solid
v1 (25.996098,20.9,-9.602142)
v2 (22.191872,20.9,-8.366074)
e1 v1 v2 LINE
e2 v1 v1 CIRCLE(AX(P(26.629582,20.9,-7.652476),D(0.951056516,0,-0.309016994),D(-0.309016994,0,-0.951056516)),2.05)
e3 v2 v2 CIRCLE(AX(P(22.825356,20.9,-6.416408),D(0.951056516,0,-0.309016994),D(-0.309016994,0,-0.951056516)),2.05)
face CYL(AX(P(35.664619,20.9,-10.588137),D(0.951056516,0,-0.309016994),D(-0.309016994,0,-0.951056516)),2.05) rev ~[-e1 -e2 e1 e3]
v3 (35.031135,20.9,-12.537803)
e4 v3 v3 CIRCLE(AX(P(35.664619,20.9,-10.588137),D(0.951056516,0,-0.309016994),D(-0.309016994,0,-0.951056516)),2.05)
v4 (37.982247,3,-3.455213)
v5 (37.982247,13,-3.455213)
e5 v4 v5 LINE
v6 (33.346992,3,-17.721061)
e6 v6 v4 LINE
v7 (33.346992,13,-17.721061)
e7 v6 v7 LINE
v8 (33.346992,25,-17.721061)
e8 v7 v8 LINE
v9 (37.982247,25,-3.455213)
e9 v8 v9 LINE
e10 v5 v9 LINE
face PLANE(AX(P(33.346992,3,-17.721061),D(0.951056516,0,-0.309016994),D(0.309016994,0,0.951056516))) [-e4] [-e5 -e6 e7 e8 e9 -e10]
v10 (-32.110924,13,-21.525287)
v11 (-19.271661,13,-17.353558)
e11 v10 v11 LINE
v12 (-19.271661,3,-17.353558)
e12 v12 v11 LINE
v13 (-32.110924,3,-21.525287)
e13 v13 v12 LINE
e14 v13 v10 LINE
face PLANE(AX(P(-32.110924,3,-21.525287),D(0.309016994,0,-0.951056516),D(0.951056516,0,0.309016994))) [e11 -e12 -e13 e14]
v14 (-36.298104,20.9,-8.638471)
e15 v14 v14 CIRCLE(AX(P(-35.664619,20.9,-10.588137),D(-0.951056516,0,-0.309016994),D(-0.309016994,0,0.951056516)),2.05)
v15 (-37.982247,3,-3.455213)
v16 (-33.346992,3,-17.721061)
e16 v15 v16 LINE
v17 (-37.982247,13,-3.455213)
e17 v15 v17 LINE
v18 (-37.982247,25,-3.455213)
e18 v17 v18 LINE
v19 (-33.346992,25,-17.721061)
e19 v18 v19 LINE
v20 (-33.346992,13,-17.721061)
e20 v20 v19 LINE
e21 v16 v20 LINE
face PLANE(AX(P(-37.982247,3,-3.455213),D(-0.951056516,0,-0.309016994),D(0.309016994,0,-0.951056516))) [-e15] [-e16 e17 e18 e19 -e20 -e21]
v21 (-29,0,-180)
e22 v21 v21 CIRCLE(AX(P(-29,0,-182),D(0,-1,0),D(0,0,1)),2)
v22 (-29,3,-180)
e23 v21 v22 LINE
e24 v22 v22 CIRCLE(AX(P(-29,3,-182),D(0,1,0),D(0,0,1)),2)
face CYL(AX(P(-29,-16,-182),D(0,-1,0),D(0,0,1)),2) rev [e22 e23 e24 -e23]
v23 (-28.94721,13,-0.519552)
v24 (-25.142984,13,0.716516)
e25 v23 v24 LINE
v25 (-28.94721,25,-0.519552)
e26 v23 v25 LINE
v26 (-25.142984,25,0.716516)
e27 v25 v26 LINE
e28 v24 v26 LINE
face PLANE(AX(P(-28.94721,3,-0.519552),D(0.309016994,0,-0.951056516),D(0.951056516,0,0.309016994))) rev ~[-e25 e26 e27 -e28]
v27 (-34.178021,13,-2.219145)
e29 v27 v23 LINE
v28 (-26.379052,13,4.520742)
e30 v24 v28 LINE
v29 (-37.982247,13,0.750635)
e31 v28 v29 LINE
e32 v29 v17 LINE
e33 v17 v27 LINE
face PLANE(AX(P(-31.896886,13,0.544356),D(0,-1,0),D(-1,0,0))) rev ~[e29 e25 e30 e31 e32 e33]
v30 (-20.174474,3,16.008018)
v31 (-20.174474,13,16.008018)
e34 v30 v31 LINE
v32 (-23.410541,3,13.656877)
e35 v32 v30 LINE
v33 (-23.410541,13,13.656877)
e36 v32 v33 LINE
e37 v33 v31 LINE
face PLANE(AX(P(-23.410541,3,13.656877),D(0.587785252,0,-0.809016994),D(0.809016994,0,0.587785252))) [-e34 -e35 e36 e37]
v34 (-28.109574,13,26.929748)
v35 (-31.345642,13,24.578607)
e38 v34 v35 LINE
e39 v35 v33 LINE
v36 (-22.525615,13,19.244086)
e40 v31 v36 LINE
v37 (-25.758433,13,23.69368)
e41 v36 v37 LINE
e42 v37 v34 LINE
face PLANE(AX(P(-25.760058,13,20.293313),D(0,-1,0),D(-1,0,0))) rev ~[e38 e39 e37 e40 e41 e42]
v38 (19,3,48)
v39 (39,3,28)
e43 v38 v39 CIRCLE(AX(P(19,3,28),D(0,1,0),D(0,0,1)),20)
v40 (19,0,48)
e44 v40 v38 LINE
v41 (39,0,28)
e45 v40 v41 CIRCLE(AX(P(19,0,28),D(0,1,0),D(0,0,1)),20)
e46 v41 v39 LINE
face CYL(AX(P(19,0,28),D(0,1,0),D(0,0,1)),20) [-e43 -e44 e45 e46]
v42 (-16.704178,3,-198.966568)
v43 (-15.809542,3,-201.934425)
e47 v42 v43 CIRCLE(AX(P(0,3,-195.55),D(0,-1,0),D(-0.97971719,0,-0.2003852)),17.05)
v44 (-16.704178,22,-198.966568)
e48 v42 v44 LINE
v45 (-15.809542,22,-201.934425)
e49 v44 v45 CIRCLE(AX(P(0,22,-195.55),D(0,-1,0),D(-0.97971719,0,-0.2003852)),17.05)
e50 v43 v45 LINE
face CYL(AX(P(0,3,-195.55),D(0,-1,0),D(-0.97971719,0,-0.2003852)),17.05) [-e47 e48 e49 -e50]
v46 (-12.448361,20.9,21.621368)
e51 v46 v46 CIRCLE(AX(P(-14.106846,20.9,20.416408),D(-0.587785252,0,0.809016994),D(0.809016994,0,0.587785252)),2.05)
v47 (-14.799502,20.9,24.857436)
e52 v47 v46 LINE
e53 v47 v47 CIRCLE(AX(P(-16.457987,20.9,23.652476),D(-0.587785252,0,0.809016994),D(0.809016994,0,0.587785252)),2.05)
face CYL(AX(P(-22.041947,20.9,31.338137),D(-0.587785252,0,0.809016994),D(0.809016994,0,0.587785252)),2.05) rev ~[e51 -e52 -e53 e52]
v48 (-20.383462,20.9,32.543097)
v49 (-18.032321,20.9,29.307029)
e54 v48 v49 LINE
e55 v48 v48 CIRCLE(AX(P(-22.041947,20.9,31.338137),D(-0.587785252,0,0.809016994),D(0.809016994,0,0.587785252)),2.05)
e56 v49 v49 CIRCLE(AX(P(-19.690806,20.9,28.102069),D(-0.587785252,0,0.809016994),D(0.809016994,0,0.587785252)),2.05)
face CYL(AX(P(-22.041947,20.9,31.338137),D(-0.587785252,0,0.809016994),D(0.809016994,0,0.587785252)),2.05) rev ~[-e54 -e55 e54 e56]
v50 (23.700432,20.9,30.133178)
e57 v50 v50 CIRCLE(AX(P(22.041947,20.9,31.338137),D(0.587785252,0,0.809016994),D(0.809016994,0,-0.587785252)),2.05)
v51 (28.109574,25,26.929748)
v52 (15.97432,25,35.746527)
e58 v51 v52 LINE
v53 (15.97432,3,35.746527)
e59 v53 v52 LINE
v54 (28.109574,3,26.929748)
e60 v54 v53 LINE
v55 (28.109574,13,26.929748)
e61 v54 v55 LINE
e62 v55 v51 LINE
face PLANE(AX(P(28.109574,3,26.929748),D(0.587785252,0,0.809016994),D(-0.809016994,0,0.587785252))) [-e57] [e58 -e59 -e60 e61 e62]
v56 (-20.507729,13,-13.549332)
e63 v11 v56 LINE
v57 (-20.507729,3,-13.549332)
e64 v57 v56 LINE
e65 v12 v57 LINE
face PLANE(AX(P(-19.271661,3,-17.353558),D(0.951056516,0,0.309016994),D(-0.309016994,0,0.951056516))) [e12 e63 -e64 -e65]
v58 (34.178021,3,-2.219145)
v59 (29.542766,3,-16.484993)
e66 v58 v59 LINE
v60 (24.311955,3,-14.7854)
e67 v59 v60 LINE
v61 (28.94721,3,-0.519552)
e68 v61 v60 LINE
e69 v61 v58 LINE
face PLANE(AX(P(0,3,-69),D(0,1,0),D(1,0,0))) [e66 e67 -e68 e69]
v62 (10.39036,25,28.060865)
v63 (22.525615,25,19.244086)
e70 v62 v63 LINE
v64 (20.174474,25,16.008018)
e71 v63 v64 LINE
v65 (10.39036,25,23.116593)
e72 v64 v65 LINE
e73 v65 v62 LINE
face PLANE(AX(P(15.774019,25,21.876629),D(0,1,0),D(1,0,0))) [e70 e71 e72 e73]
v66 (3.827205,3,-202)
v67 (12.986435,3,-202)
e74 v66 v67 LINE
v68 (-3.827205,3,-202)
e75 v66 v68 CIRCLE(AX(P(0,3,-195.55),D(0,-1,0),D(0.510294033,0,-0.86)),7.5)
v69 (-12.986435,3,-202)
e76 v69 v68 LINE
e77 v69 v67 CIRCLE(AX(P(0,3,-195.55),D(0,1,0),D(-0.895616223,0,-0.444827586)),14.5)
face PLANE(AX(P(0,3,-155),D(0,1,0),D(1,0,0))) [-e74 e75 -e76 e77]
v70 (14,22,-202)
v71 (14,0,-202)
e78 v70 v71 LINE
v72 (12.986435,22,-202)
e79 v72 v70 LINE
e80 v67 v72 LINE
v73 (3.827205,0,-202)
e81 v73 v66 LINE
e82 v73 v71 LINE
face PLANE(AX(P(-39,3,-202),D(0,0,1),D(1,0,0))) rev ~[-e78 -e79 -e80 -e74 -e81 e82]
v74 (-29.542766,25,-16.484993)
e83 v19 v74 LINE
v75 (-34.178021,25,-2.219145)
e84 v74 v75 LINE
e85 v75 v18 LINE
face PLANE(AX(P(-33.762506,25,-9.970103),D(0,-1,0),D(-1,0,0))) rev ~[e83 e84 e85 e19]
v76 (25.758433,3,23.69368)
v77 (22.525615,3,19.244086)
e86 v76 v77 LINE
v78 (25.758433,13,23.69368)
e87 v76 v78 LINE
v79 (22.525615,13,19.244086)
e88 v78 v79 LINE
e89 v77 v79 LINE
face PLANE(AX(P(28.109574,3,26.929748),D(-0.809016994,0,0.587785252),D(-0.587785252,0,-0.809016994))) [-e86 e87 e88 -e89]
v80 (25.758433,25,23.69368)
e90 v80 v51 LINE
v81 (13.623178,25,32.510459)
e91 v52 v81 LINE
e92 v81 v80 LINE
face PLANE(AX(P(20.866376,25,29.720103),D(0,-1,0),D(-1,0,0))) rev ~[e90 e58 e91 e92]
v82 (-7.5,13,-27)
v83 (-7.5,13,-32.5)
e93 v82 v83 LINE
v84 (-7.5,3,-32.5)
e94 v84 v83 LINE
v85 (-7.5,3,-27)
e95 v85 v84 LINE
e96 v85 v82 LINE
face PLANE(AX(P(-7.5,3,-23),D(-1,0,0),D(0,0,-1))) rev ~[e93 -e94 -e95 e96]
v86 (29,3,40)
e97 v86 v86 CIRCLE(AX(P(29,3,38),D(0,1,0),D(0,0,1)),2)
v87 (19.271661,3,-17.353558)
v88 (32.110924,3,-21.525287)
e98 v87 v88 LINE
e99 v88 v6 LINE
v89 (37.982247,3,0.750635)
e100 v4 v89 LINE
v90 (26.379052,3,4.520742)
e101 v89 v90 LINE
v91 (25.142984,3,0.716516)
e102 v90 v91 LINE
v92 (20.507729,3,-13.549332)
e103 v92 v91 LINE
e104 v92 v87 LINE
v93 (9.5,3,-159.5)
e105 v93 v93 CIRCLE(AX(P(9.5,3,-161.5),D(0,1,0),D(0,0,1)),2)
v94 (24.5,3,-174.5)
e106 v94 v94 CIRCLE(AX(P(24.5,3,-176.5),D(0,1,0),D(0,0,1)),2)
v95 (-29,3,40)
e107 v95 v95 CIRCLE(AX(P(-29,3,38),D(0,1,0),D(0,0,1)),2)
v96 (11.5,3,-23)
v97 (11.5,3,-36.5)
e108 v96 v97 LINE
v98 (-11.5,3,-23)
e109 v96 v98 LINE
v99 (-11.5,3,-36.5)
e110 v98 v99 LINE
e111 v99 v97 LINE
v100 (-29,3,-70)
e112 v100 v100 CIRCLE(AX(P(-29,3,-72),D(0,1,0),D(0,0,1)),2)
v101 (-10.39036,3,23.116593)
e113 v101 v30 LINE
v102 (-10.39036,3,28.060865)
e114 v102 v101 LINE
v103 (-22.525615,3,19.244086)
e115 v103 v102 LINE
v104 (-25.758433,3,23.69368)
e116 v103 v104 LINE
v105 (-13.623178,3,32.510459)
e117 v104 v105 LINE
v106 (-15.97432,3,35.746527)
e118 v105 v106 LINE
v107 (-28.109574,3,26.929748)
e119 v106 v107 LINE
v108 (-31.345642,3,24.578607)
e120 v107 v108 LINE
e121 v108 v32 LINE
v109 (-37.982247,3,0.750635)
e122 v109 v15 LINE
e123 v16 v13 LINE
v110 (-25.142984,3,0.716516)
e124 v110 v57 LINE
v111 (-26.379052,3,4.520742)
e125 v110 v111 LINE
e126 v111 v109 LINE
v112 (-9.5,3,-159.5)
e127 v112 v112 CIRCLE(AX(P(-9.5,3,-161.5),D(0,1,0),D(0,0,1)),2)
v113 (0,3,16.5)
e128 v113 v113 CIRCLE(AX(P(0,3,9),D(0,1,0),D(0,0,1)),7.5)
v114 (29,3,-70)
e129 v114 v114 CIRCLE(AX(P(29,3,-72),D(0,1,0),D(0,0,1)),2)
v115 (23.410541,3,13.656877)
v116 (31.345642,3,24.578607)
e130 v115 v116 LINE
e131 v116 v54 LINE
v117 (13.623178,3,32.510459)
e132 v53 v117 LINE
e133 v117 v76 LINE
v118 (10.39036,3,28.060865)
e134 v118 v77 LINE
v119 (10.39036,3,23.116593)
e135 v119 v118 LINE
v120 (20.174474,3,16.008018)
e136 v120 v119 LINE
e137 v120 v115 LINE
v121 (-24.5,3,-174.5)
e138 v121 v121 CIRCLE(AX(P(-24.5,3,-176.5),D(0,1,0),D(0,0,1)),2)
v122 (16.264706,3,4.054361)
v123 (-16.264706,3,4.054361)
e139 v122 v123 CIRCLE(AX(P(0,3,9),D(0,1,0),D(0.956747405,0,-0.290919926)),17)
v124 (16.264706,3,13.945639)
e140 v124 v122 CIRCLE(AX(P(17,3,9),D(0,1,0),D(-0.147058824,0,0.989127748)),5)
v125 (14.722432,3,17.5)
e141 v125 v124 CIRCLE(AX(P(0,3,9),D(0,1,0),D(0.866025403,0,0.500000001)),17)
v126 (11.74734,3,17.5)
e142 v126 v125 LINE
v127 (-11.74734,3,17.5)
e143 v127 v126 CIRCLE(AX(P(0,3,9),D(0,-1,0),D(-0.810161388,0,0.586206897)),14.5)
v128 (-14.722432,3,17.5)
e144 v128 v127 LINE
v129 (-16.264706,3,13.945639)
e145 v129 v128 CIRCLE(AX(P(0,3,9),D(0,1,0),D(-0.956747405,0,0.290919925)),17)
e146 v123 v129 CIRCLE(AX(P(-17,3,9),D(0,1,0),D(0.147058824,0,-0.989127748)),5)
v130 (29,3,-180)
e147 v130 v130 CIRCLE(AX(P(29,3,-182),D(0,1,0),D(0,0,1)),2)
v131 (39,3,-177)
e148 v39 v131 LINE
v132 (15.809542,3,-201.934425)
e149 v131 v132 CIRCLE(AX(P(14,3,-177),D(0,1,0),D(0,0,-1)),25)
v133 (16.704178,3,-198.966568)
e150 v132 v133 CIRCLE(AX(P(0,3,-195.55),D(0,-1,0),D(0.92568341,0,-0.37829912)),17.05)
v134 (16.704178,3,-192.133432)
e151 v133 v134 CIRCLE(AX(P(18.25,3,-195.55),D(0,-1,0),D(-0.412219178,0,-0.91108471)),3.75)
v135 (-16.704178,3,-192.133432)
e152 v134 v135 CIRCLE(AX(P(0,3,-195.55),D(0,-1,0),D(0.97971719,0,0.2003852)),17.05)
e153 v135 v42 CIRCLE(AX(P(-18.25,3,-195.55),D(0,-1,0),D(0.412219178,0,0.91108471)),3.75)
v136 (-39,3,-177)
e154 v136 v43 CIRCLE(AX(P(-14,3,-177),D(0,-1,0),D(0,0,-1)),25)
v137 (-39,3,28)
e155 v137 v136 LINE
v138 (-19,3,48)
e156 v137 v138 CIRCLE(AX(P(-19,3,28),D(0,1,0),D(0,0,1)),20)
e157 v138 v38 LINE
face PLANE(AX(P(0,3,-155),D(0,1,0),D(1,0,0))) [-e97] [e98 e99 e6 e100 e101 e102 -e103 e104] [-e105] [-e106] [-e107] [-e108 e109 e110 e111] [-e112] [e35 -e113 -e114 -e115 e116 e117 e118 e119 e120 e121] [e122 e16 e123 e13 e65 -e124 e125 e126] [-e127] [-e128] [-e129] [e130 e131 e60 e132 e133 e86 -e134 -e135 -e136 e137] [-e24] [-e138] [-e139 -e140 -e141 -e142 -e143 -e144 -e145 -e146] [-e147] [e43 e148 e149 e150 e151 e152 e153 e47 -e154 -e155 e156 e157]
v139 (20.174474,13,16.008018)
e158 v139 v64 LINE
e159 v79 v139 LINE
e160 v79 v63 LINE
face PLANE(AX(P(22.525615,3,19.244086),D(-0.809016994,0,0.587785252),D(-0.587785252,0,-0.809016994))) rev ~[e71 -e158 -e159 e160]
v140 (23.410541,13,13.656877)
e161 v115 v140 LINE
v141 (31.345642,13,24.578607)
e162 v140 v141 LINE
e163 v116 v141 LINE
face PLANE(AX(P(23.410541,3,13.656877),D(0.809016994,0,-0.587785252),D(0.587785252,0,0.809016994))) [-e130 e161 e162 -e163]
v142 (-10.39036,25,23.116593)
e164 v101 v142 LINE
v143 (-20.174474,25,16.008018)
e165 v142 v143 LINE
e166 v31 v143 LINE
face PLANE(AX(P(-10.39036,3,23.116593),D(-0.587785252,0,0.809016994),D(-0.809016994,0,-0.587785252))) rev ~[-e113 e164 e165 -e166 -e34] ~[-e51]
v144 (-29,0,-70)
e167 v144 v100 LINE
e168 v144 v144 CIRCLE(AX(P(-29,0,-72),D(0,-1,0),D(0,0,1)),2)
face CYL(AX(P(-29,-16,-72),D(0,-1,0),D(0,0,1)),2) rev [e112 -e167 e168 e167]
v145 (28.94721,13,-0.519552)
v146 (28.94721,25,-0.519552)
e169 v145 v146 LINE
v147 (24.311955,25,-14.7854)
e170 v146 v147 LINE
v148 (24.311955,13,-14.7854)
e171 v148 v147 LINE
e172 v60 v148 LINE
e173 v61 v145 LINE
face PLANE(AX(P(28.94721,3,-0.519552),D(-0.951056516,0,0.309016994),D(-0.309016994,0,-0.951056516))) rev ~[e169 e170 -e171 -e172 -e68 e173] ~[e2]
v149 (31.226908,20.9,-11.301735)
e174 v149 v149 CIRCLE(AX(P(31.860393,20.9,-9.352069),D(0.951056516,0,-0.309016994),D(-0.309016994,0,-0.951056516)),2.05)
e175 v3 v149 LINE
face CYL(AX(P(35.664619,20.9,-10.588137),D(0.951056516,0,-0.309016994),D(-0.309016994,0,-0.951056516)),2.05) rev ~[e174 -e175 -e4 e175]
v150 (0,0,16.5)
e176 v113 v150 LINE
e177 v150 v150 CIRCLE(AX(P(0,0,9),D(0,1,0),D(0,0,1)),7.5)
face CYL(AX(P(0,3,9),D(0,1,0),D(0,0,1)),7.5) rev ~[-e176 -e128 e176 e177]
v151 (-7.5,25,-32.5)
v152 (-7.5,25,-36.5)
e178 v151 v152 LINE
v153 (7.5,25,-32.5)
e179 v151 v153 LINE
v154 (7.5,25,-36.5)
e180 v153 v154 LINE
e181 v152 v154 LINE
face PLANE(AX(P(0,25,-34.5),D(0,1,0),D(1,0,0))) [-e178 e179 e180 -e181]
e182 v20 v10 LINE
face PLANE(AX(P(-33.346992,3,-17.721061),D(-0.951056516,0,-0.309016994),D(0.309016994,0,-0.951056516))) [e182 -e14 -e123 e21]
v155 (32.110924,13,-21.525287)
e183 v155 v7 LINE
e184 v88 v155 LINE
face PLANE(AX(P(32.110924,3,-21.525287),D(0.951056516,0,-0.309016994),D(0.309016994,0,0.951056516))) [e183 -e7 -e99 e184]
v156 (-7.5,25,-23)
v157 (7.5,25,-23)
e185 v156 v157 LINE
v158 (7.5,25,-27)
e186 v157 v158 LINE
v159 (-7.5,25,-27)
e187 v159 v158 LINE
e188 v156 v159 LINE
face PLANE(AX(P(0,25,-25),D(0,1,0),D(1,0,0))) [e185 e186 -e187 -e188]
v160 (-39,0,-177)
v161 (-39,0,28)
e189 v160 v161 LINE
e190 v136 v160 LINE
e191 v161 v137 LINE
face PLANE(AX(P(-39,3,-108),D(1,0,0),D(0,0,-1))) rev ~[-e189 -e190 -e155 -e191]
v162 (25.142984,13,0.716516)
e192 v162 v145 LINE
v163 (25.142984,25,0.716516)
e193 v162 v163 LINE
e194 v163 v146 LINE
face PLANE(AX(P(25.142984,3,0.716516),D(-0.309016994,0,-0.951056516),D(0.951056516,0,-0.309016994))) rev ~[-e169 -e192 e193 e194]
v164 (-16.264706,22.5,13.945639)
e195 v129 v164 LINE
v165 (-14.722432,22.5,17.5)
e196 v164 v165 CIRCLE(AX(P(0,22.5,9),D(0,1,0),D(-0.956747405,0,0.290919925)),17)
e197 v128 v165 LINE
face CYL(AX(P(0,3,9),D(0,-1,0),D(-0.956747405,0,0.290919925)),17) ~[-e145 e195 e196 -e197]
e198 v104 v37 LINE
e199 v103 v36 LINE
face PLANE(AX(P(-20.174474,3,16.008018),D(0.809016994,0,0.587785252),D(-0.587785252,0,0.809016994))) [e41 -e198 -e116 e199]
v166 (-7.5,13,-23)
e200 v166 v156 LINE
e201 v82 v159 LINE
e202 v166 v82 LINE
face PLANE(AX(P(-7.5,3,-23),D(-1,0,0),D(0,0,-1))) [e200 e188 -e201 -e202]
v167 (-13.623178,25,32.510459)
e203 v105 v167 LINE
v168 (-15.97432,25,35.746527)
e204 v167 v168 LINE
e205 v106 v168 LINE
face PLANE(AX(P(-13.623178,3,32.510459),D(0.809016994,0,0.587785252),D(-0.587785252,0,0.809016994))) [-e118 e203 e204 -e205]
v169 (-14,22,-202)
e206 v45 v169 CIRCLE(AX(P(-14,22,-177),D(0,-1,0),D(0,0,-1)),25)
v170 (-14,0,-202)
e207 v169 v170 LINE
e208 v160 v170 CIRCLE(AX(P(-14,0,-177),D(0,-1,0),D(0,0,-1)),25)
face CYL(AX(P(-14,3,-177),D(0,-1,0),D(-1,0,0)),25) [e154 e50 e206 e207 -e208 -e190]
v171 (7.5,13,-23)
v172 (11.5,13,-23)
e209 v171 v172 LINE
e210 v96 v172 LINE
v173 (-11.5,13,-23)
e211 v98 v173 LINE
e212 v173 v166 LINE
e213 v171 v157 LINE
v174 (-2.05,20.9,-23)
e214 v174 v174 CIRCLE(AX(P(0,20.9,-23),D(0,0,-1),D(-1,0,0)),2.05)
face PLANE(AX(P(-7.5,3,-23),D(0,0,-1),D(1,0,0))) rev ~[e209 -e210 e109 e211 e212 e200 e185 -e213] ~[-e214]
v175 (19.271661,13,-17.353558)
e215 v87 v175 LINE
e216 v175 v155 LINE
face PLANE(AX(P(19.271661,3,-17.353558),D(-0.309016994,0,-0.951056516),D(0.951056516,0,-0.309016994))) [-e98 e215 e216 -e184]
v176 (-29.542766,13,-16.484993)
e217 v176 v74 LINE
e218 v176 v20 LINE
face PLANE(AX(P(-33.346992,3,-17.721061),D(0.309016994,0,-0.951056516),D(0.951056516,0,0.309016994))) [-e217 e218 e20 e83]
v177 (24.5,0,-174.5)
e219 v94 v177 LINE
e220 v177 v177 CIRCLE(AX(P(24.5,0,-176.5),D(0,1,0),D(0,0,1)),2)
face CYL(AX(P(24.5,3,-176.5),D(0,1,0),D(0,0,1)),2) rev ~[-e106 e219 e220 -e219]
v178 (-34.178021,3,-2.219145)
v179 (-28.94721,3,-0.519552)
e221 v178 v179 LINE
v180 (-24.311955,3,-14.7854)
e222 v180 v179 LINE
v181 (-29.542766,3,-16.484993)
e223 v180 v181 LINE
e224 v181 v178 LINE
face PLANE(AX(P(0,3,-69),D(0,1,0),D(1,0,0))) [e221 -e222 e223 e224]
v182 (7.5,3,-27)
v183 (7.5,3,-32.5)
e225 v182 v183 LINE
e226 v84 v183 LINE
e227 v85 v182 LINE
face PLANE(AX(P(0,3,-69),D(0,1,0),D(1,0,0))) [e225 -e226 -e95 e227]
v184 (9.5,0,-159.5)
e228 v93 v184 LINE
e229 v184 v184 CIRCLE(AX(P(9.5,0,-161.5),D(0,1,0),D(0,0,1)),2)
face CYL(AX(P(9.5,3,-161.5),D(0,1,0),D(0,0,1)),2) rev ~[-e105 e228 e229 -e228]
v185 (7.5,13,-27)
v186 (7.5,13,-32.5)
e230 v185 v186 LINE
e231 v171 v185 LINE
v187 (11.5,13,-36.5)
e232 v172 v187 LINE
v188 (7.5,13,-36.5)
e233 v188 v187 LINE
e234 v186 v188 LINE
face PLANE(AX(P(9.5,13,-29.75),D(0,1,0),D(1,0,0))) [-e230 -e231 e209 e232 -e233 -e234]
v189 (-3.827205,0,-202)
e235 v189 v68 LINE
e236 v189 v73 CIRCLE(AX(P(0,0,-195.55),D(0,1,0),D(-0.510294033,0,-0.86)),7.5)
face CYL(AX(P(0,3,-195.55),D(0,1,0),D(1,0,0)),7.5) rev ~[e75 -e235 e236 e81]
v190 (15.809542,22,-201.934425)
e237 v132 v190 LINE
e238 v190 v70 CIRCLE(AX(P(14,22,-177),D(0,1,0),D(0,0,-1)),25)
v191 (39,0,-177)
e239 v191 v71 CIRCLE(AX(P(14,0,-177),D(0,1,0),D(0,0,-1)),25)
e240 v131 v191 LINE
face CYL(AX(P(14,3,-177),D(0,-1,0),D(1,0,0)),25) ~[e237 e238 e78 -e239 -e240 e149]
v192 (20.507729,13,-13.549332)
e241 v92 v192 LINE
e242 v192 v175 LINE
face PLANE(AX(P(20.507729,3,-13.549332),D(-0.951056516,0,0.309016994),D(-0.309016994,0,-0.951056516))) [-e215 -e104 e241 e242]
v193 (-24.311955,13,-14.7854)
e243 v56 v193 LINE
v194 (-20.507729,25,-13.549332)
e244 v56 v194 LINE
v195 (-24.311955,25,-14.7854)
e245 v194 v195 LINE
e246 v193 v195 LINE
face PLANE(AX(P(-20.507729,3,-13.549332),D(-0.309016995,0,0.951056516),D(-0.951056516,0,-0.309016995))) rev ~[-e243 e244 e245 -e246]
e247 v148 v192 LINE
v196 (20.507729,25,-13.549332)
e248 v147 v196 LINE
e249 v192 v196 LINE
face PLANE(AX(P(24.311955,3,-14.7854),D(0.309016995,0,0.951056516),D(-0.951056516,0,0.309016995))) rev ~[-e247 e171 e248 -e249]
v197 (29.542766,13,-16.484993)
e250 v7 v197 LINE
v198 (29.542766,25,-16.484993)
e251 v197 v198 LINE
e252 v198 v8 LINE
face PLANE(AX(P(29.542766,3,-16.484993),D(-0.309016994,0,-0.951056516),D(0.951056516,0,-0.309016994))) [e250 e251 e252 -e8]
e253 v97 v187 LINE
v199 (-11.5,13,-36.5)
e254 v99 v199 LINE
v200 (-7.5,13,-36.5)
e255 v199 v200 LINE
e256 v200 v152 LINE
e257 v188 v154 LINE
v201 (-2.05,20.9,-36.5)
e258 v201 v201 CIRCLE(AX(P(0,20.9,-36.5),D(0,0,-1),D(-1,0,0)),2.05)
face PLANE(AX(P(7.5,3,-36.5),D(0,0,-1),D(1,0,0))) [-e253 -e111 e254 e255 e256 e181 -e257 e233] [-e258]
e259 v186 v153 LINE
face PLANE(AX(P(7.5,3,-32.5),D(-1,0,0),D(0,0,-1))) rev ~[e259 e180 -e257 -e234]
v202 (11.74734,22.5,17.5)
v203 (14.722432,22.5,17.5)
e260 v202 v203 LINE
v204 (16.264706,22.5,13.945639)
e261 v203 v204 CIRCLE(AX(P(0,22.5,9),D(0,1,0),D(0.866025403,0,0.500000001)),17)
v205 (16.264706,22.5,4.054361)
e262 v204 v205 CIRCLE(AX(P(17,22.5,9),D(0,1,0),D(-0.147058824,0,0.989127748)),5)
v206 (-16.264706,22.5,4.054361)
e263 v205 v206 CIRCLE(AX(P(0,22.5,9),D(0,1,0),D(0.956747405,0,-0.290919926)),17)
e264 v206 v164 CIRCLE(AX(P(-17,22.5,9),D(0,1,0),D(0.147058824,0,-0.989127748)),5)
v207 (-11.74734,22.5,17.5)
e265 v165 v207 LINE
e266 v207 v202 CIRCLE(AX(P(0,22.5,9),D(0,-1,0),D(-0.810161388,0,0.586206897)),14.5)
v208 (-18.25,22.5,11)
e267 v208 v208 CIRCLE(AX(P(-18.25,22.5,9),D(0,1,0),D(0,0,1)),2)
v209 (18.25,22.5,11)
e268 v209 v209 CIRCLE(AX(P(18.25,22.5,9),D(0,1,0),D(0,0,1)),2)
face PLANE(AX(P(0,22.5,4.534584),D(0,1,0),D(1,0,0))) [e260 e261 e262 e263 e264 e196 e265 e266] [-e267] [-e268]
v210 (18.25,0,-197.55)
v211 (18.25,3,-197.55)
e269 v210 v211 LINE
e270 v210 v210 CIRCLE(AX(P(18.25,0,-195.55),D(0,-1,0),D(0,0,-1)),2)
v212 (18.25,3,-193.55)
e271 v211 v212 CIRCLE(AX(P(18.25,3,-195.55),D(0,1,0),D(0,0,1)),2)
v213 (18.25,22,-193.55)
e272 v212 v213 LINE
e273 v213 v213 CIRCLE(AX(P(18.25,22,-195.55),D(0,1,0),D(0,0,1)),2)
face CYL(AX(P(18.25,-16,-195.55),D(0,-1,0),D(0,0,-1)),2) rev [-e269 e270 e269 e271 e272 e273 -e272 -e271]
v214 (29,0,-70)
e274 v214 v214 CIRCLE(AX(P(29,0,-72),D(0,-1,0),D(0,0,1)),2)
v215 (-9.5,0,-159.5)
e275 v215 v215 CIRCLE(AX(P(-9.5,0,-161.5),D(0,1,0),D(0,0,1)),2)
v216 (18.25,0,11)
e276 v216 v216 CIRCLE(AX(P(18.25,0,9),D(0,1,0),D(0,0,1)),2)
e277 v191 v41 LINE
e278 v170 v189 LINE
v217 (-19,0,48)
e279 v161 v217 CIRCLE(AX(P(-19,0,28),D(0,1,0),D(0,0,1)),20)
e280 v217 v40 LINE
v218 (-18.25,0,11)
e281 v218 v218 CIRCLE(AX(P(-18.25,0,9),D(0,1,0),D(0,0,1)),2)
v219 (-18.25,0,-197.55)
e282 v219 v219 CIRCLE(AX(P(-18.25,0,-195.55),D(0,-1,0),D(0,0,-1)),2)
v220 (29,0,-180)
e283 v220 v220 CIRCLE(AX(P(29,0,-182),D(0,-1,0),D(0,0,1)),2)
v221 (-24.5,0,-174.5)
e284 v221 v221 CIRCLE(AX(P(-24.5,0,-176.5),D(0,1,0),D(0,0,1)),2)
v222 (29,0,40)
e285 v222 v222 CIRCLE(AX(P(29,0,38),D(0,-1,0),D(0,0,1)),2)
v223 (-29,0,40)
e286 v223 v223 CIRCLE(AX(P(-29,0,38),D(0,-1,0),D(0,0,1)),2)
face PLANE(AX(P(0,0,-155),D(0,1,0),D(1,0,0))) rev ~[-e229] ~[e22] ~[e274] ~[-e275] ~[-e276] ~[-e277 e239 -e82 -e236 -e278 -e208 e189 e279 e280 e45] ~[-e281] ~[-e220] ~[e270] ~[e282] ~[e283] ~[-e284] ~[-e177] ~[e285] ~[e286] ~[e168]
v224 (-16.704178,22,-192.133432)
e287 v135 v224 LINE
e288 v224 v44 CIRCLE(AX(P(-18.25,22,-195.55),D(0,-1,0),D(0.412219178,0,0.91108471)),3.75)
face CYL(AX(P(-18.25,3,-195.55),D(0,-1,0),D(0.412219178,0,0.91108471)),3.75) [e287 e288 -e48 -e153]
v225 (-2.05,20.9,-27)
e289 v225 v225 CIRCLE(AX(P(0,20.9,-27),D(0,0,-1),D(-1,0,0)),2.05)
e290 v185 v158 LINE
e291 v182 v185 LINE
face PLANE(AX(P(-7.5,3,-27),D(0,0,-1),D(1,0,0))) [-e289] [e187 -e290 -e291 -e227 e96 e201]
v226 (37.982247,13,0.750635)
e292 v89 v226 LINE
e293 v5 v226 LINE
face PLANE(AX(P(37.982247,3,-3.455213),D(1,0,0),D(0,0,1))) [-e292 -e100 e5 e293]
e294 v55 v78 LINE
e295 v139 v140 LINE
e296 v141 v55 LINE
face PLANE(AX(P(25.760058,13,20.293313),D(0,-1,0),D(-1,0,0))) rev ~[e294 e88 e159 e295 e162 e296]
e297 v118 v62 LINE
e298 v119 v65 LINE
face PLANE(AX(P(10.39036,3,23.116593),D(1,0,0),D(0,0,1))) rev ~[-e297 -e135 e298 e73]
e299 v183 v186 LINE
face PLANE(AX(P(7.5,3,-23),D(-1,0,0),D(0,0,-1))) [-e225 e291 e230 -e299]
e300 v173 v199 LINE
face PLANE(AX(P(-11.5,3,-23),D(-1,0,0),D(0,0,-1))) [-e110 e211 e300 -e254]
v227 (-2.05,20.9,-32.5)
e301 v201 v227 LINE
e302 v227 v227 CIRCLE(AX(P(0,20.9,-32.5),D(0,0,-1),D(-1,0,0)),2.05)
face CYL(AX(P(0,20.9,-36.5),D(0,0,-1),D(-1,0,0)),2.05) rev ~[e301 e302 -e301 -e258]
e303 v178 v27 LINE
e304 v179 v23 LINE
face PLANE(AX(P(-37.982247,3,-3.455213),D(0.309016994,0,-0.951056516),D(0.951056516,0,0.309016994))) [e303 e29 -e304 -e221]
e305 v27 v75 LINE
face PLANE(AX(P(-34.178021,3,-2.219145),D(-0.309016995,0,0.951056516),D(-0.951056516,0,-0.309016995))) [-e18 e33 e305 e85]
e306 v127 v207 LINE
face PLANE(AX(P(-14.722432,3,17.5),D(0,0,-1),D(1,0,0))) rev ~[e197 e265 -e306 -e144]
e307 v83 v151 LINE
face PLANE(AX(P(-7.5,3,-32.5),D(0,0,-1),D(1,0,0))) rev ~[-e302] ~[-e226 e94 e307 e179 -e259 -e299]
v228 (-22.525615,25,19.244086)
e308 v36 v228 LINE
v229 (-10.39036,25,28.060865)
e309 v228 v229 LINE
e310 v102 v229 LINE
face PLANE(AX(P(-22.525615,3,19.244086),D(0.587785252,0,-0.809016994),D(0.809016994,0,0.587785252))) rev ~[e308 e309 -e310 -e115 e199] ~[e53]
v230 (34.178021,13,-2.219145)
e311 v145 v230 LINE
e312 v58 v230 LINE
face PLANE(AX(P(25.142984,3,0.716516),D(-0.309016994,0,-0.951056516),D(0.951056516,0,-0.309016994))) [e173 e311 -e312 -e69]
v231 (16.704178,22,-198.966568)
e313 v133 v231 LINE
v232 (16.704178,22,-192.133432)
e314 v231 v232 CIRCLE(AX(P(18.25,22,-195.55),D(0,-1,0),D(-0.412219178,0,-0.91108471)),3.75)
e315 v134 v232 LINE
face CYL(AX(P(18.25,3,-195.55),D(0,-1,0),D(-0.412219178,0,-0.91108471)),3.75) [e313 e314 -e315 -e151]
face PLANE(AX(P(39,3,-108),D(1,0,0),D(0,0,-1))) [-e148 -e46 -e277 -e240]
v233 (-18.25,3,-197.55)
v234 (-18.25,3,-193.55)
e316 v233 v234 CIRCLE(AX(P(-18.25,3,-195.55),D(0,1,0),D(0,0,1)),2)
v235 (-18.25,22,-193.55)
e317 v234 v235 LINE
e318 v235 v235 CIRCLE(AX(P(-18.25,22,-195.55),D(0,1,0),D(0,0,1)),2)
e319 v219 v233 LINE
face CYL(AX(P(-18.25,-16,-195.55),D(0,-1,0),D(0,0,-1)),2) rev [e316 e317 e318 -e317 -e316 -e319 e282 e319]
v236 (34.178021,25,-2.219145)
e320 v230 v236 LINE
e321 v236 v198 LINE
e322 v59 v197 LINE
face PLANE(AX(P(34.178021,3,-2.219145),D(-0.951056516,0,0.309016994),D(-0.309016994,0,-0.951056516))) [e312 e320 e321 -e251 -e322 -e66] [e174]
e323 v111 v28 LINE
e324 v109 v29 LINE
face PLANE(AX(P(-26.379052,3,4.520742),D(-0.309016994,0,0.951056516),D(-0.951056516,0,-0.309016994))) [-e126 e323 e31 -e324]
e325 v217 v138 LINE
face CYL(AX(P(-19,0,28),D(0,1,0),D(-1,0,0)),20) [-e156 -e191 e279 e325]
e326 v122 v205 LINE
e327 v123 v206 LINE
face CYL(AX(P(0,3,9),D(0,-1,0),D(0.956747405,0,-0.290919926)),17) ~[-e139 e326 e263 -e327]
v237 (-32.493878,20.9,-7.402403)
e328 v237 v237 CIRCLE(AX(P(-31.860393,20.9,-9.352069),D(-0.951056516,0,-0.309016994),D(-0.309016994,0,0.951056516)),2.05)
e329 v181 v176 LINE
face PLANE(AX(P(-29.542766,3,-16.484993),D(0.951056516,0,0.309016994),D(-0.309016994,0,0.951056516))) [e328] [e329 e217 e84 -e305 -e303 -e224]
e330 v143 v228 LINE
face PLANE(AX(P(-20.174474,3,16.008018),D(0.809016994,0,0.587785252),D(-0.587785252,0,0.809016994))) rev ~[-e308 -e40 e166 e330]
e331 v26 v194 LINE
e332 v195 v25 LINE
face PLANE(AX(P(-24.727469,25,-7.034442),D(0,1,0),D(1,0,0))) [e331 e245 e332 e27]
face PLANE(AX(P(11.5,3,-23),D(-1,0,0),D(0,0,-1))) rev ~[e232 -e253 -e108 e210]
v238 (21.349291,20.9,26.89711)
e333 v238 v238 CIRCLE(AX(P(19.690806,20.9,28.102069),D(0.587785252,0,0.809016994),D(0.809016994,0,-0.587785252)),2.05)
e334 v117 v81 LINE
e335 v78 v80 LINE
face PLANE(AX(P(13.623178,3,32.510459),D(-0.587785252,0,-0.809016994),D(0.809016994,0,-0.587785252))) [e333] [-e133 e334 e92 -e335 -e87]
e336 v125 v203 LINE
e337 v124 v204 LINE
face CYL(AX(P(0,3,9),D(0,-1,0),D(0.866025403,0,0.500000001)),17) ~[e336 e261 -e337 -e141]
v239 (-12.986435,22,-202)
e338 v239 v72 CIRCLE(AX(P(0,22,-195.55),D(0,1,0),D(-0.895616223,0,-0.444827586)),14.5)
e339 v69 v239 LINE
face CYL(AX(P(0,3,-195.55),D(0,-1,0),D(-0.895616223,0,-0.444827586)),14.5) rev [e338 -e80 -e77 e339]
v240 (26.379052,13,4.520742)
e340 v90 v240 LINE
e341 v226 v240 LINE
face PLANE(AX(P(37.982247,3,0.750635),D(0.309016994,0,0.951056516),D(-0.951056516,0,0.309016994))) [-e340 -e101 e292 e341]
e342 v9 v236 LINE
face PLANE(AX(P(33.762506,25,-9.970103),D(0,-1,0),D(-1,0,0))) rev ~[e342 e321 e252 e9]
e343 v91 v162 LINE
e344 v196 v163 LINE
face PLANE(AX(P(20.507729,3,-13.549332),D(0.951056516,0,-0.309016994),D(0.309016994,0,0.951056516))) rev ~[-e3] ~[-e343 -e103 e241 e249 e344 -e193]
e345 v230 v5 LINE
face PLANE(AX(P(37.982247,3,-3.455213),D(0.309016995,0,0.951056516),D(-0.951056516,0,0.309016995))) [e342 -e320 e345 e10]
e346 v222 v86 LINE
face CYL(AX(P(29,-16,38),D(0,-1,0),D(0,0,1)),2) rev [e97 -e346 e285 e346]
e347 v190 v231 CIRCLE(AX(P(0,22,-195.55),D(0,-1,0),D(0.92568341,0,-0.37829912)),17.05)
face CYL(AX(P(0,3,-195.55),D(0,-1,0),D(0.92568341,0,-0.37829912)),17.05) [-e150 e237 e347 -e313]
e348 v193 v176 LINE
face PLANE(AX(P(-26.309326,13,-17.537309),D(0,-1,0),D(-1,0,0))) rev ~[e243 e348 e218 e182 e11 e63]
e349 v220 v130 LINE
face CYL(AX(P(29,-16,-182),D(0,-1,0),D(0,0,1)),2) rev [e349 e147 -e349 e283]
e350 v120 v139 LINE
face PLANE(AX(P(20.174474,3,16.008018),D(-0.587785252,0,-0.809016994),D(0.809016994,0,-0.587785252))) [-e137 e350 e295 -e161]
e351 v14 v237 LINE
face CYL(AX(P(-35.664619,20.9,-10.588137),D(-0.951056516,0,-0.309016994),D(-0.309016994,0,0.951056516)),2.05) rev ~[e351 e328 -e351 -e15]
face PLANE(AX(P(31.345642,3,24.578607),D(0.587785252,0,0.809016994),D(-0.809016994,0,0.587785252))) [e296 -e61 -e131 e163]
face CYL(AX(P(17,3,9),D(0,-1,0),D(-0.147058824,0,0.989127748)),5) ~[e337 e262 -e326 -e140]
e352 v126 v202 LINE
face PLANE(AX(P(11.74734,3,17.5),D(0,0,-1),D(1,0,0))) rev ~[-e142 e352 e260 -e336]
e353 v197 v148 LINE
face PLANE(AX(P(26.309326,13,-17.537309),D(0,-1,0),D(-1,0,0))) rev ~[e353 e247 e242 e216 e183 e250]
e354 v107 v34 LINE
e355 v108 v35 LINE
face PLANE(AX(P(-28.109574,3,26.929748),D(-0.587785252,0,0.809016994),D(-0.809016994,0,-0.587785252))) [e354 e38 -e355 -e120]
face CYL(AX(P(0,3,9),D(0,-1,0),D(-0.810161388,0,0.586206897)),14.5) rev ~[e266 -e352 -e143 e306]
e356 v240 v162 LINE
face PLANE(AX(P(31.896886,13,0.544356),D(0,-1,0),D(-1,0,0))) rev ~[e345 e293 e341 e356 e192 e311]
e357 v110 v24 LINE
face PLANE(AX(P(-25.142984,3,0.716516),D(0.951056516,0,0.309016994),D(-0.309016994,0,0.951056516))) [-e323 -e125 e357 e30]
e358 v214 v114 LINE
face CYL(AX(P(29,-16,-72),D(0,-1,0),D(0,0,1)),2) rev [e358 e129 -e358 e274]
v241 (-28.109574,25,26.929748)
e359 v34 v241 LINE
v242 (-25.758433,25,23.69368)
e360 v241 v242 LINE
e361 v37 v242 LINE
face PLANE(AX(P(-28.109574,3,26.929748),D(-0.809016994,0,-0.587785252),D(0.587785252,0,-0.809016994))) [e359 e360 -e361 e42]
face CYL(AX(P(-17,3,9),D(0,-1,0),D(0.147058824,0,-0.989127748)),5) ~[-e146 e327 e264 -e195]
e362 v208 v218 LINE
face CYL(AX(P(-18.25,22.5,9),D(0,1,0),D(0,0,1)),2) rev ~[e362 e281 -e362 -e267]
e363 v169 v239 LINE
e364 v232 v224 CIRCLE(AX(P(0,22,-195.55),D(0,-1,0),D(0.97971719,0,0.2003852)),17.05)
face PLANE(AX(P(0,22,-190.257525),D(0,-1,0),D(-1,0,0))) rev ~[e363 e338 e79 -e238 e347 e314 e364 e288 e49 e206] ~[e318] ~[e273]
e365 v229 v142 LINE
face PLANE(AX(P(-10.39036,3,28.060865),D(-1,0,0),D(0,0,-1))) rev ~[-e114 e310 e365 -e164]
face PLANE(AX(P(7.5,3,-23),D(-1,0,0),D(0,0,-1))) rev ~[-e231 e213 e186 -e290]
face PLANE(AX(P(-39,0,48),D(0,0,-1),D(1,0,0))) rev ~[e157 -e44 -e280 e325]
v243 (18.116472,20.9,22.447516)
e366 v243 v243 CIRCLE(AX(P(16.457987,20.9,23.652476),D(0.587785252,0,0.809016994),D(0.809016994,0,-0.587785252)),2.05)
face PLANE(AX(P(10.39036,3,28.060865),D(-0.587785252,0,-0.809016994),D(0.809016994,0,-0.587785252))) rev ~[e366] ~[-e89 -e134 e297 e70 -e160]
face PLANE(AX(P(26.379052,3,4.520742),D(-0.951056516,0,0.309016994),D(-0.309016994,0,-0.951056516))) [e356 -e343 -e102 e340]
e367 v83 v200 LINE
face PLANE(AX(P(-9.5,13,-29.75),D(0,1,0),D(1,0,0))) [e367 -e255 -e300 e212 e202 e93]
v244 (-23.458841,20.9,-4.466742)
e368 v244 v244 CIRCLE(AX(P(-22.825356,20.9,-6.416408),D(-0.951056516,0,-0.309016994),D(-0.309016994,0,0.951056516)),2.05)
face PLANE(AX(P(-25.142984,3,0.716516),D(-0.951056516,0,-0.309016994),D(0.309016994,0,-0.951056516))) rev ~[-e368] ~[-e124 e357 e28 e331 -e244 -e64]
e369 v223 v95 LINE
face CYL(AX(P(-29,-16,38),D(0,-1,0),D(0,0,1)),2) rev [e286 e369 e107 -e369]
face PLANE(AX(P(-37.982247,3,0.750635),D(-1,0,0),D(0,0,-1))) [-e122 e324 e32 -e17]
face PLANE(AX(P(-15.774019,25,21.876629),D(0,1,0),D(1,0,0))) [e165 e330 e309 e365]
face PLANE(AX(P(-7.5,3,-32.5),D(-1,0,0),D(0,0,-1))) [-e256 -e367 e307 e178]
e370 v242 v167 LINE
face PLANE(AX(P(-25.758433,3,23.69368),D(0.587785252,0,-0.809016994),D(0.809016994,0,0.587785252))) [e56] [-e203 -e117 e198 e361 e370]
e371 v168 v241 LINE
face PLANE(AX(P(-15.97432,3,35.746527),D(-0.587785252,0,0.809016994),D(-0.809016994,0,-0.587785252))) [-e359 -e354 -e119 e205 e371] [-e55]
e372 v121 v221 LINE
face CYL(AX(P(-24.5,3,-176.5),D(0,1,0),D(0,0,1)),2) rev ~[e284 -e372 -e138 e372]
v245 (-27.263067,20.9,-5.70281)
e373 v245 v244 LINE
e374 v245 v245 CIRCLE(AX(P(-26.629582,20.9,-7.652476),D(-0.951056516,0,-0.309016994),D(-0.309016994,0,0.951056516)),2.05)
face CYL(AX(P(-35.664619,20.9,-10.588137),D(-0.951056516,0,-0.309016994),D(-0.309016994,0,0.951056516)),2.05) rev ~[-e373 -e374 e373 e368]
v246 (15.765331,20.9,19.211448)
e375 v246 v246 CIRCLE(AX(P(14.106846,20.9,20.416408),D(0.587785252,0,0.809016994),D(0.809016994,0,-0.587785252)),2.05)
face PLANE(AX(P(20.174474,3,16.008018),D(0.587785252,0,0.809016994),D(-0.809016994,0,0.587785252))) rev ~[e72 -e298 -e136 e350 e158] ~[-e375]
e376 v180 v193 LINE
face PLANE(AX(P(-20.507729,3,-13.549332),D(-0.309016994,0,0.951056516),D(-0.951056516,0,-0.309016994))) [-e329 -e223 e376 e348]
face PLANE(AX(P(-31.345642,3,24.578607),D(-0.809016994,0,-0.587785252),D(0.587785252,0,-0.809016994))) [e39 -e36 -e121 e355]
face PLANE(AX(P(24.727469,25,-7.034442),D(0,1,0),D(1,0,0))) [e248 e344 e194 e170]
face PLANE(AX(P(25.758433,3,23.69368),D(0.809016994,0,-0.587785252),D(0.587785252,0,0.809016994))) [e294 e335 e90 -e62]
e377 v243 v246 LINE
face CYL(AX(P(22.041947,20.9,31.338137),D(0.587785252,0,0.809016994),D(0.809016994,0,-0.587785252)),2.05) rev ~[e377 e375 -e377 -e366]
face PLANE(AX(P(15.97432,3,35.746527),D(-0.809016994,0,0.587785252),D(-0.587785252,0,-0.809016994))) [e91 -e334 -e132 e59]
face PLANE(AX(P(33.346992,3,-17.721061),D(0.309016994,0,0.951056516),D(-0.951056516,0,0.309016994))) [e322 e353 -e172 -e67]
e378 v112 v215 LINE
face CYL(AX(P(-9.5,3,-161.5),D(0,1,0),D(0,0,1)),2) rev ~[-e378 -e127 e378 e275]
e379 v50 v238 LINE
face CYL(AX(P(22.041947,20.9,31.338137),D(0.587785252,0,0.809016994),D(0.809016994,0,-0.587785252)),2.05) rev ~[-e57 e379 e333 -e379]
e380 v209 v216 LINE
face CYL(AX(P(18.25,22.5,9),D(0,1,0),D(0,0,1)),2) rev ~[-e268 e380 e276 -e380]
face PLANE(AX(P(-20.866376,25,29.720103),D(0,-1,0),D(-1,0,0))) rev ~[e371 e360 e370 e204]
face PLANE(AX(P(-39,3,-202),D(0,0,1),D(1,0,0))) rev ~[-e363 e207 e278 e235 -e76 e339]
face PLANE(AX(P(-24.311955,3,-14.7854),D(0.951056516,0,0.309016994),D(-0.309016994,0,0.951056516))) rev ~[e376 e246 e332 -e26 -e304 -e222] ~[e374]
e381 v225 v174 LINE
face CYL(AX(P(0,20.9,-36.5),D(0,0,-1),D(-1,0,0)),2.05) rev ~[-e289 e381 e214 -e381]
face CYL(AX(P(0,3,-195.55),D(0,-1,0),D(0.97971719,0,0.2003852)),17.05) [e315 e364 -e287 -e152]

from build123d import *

# Parameters (mm, degrees)
IZIM1_W                      = 78
IZIM1_H                      = 78
Y_KSEKLIK_EKSTR_ZYON1_DEPTH  = 3
Y_KSEKLIK_EKSTR_ZYON5_DEPTH  = 19.5
IZIM10_R                     = 2
KES_EKSTR_ZYON3_DEPTH        = 26.5
IZIM18_W                     = 78
IZIM18_H                     = 78
Y_KSEKLIK_EKSTR_ZYON8_DEPTH  = 3
DIK_W                        = 15
DIK_H                        = 4
Y_KSEKLIK_EKSTR_ZYON12_DEPTH = 22
YANDESTEK_W                  = 4
YANDESTEK_H                  = 13.5
Y_KSEKLIK_EKSTR_ZYON13_DEPTH = 10
IZIM23_R                     = 2.05
KES_EKSTR_ZYON4_DEPTH        = 14
IZIM24_R                     = 2.05
KES_EKSTR_ZYON5_DEPTH        = 14
IZIM25_R                     = 2.05
KES_EKSTR_ZYON6_DEPTH        = 14
IZIM26_R                     = 2.05
KES_EKSTR_ZYON7_DEPTH        = 14
IZIM27_R                     = 2.05
KES_EKSTR_ZYON8_DEPTH        = 14
IZIM28_W                     = 78
IZIM28_H                     = 94
Y_KSEKLIK_EKSTR_ZYON15_DEPTH = 3
IZIM29_R                     = 2
KES_EKSTR_ZYON9_DEPTH        = 3
IZIM30_R                     = 2
Y_KSEKLIK_EKSTR_ZYON16_DEPTH = 19
IZIM31_R                     = 7.5
KES_EKSTR_ZYON10_DEPTH       = 19
KES_EKSTR_ZYON11_START       = -19
IZIM32_R                     = 2
KES_EKSTR_ZYON11_DEPTH       = 19
RADYUS1_R                    = 25
RADYUS2_R                    = 20


with BuildPart() as part:
    # Çizim1 → Yükseklik-Ekstrüzyon1 (new body)
    with BuildSketch(Plane(origin=(0, 0, 0), x_dir=(1, 0, 0), z_dir=(0, 1, 0))):
        with Locations((0, -9)):
            Rectangle(IZIM1_W, IZIM1_H)
    extrude(amount=Y_KSEKLIK_EKSTR_ZYON1_DEPTH)

    # Çizim9 → Yükseklik-Ekstrüzyon5 (add)
    with BuildSketch(Plane(origin=(0, 3, 0), x_dir=(1, 0, 0), z_dir=(0, 1, 0))):
        with BuildLine():
            Line((-14.722431864, -17.5), (-11.747340124, -17.5))
            ThreePointArc((-11.747340124, -17.5), (0, 5.5), (11.747340124, -17.5))
            Line((11.747340124, -17.5), (14.722431864, -17.5))
            ThreePointArc((14.722431864, -17.5), (15.595161026, -15.766901254), (16.264705882, -13.945638741))
            ThreePointArc((16.264705882, -13.945638741), (22, -9), (16.264705882, -4.054361259))
            ThreePointArc((16.264705882, -4.054361259), (0, 8), (-16.264705882, -4.054361259))
            ThreePointArc((-16.264705882, -4.054361259), (-22, -9), (-16.264705882, -13.945638741))
            ThreePointArc((-16.264705882, -13.945638741), (-15.595161026, -15.766901254), (-14.722431864, -17.5))
        make_face()
    extrude(amount=Y_KSEKLIK_EKSTR_ZYON5_DEPTH)

    # Çizim10 → Kes-Ekstrüzyon3 (cut)
    with BuildSketch(Plane(origin=(0, 22.5, 0), x_dir=(1, 0, 0), z_dir=(0, 1, 0))):
        with Locations(Location((-18.25, -9, 0), (0, 0, 270))):
            Circle(IZIM10_R)
        with Locations(Location((18.25, -9, 0), (0, 0, 270))):
            Circle(IZIM10_R)
    extrude(amount=-KES_EKSTR_ZYON3_DEPTH, mode=Mode.SUBTRACT)

    # Çizim18 → Yükseklik-Ekstrüzyon8 (add)
    with BuildSketch(Plane(origin=(0, 0, 0), x_dir=(1, 0, 0), z_dir=(0, 1, 0))):
        with Locations((0, 69)):
            Rectangle(IZIM18_W, IZIM18_H)
    extrude(amount=Y_KSEKLIK_EKSTR_ZYON8_DEPTH)

    # dik → Yükseklik-Ekstrüzyon12 (add)
    with BuildSketch(Plane(origin=(0, 3, 0), x_dir=(1, 0, 0), z_dir=(0, 1, 0))):
        with Locations((0, 34.5)):
            Rectangle(DIK_W, DIK_H)
        with Locations((0, 25)):
            Rectangle(DIK_W, DIK_H)
        Polygon((33.346991903, 17.721061161), (37.982246819, 3.455213417), (34.178020754, 2.219145439), (29.542765838, 16.484993184), align=None)
        Polygon((24.311954998, 14.785399715), (20.507728933, 13.549331737), (25.142983849, -0.716516007), (28.947209914, 0.51955197), align=None)
        Polygon((28.109574419, -26.929747897), (15.974319503, -35.746526681), (13.623178494, -32.510458704), (25.75843341, -23.693679919), align=None)
        Polygon((22.525614522, -19.24408645), (20.174473513, -16.008018473), (10.390359606, -23.116593325), (10.390359606, -28.060865235), align=None)
        Polygon((-15.974319503, -35.746526681), (-28.109574419, -26.929747897), (-25.75843341, -23.693679919), (-13.623178494, -32.510458704), align=None)
        Polygon((-10.390359606, -23.116593325), (-20.174473513, -16.008018473), (-22.525614522, -19.24408645), (-10.390359606, -28.060865235), align=None)
        Polygon((-37.982246819, 3.455213417), (-33.346991903, 17.721061161), (-29.542765838, 16.484993184), (-34.178020754, 2.219145439), align=None)
        Polygon((-28.947209914, 0.51955197), (-25.142983849, -0.716516007), (-20.507728933, 13.549331737), (-24.311954998, 14.785399715), align=None)
    extrude(amount=Y_KSEKLIK_EKSTR_ZYON12_DEPTH)

    # yandestek → Yükseklik-Ekstrüzyon13 (add)
    with BuildSketch(Plane(origin=(0, 3, 0), x_dir=(1, 0, 0), z_dir=(0, 1, 0))):
        Polygon((-37.982246819, 3.455213417), (-25.142983849, -0.716516007), (-26.379051826, -4.520742072), (-37.982246819, -0.75063548), align=None)
        Polygon((-20.174473513, -16.008018473), (-28.109574419, -26.929747897), (-31.345642396, -24.578606888), (-23.41054149, -13.656877464), align=None)
        Polygon((-20.507728933, 13.549331737), (-33.346991903, 17.721061161), (-32.110923926, 21.525287226), (-19.271660956, 17.353557802), align=None)
        with Locations((-9.5, 29.75)):
            Rectangle(YANDESTEK_W, YANDESTEK_H)
        with Locations((9.5, 29.75)):
            Rectangle(YANDESTEK_W, YANDESTEK_H)
        Polygon((32.110923926, 21.525287226), (33.346991903, 17.721061161), (20.507728933, 13.549331737), (19.271660956, 17.353557802), align=None)
        Polygon((37.982246819, 3.455213417), (37.982246819, -0.75063548), (26.379051826, -4.520742072), (25.142983849, -0.716516007), align=None)
        Polygon((31.345642396, -24.578606888), (28.109574419, -26.929747897), (20.174473513, -16.008018473), (23.41054149, -13.656877464), align=None)
    extrude(amount=Y_KSEKLIK_EKSTR_ZYON13_DEPTH)

    # Çizim23 → Kes-Ekstrüzyon4 (cut)
    with BuildSketch(Plane(origin=(-22.517475219, 0, 30.992645786), x_dir=(0.8090169943749423, 0, 0.5877852522924801), z_dir=(-0.5877852522924801, 0, 0.8090169943749423))):
        with Locations((0.587785252, 20.9)):
            Circle(IZIM23_R)
    extrude(amount=-KES_EKSTR_ZYON4_DEPTH, mode=Mode.SUBTRACT)

    # Çizim24 → Kes-Ekstrüzyon5 (cut)
    with BuildSketch(Plane(origin=(22.517475219, 0, 30.992645786), x_dir=(0.8090169943749507, 0, -0.5877852522924687), z_dir=(0.5877852522924687, 0, 0.8090169943749507))):
        with Locations((-0.587785252, 20.9)):
            Circle(IZIM24_R)
    extrude(amount=-KES_EKSTR_ZYON5_DEPTH, mode=Mode.SUBTRACT)

    # Çizim25 → Kes-Ekstrüzyon6 (cut)
    with BuildSketch(Plane(origin=(35.370726735, 0, -11.492645786), x_dir=(-0.30901699437494434, 0, -0.9510565162951546), z_dir=(0.9510565162951545, 0, -0.3090169943749443))):
        with Locations((-0.951056516, 20.9)):
            Circle(IZIM25_R)
    extrude(amount=-KES_EKSTR_ZYON6_DEPTH, mode=Mode.SUBTRACT)

    # Çizim26 → Kes-Ekstrüzyon7 (cut)
    with BuildSketch(Plane(origin=(0, 0, -36.5), x_dir=(-1, 0, 0), z_dir=(0, 0, -1))):
        with Locations((0, 20.9)):
            Circle(IZIM26_R)
    extrude(amount=-KES_EKSTR_ZYON7_DEPTH, mode=Mode.SUBTRACT)

    # Çizim27 → Kes-Ekstrüzyon8 (cut)
    with BuildSketch(Plane(origin=(-35.370726735, 0, -11.492645786), x_dir=(-0.30901699437494806, 0, 0.9510565162951534), z_dir=(-0.9510565162951534, 0, -0.30901699437494806))):
        with Locations((0.951056516, 20.9)):
            Circle(IZIM27_R)
    extrude(amount=-KES_EKSTR_ZYON8_DEPTH, mode=Mode.SUBTRACT)

    # Çizim28 → Yükseklik-Ekstrüzyon15 (add)
    with BuildSketch(Plane(origin=(0, 3, 0), x_dir=(1, 0, 0), z_dir=(0, 1, 0))):
        with Locations((0, 155)):
            Rectangle(IZIM28_W, IZIM28_H)
    extrude(amount=-Y_KSEKLIK_EKSTR_ZYON15_DEPTH)

    # Çizim29 → Kes-Ekstrüzyon9 (cut)
    with BuildSketch(Plane(origin=(0, 3, 0), x_dir=(1, 0, 0), z_dir=(0, 1, 0))):
        with Locations(Location((-9.5, 161.5, 0), (0, 0, 270))):
            Circle(IZIM29_R)
        with Locations(Location((9.5, 161.5, 0), (0, 0, 270))):
            Circle(IZIM29_R)
        with Locations(Location((-24.5, 176.5, 0), (0, 0, 270))):
            Circle(IZIM29_R)
        with Locations(Location((24.5, 176.5, 0), (0, 0, 270))):
            Circle(IZIM29_R)
    extrude(amount=-KES_EKSTR_ZYON9_DEPTH, mode=Mode.SUBTRACT)

    # Çizim30 → Yükseklik-Ekstrüzyon16 (add)
    with BuildSketch(Plane(origin=(0, 3, 0), x_dir=(1, 0, 0), z_dir=(0, 1, 0))):
        with BuildLine():
            Line((-15.782902141, 202), (-12.986435231, 202))
            ThreePointArc((-12.986435231, 202), (0, 181.05), (12.986435231, 202))
            Line((12.986435231, 202), (15.782902141, 202))
            ThreePointArc((15.782902141, 202), (16.314196986, 200.504742849), (16.704178082, 198.966567663))
            ThreePointArc((16.704178082, 198.966567663), (22, 195.55), (16.704178082, 192.133432337))
            ThreePointArc((16.704178082, 192.133432337), (0, 178.5), (-16.704178082, 192.133432337))
            ThreePointArc((-16.704178082, 192.133432337), (-22, 195.55), (-16.704178082, 198.966567663))
            ThreePointArc((-16.704178082, 198.966567663), (-16.314196986, 200.504742849), (-15.782902141, 202))
        make_face()
        with Locations(Location((-18.25, 195.55, 0), (0, 0, 270))):
            Circle(IZIM30_R, mode=Mode.SUBTRACT)
        with Locations(Location((18.25, 195.55, 0), (0, 0, 270))):
            Circle(IZIM30_R, mode=Mode.SUBTRACT)
    extrude(amount=Y_KSEKLIK_EKSTR_ZYON16_DEPTH)

    # Çizim31 → Kes-Ekstrüzyon10 (cut)
    with BuildSketch(Plane(origin=(0, 3, 0), x_dir=(1, 0, 0), z_dir=(0, 1, 0))):
        with Locations(Location((0, -9, 0), (0, 0, 270))):
            Circle(IZIM31_R)
        with Locations((0, 195.55)):
            Circle(IZIM31_R)
    extrude(amount=-KES_EKSTR_ZYON10_DEPTH, mode=Mode.SUBTRACT)

    # Çizim32 → Kes-Ekstrüzyon11 (cut)
    with BuildSketch(Plane(origin=(0, 3, 0), x_dir=(1, 0, 0), z_dir=(0, 1, 0)).offset(KES_EKSTR_ZYON11_START)):
        with Locations(Location((-29, 182, 0), (0, 0, 270))):
            Circle(IZIM32_R)
        with Locations(Location((29, 182, 0), (0, 0, 270))):
            Circle(IZIM32_R)
        with Locations(Location((-18.25, 195.55, 0), (0, 0, 90))):
            Circle(IZIM32_R)
        with Locations(Location((18.25, 195.55, 0), (0, 0, 90))):
            Circle(IZIM32_R)
        with Locations(Location((-29, -38, 0), (0, 0, 270))):
            Circle(IZIM32_R)
        with Locations(Location((29, -38, 0), (0, 0, 270))):
            Circle(IZIM32_R)
        with Locations(Location((-29, 72, 0), (0, 0, 270))):
            Circle(IZIM32_R)
        with Locations(Location((29, 72, 0), (0, 0, 270))):
            Circle(IZIM32_R)
    extrude(amount=KES_EKSTR_ZYON11_DEPTH, mode=Mode.SUBTRACT)

    # Radyus1
    radyus1_edges = [part.edges().sort_by_distance(p)[0] for p in [
        (-39, 1.5, -202),
        (39, 1.5, -202),
    ]]
    fillet(radyus1_edges, radius=RADYUS1_R)

    # Radyus2
    radyus2_edges = [part.edges().sort_by_distance(p)[0] for p in [
        (39, 1.5, 48),
        (-39, 1.5, 48),
    ]]
    fillet(radyus2_edges, radius=RADYUS2_R)


solid = part.part
